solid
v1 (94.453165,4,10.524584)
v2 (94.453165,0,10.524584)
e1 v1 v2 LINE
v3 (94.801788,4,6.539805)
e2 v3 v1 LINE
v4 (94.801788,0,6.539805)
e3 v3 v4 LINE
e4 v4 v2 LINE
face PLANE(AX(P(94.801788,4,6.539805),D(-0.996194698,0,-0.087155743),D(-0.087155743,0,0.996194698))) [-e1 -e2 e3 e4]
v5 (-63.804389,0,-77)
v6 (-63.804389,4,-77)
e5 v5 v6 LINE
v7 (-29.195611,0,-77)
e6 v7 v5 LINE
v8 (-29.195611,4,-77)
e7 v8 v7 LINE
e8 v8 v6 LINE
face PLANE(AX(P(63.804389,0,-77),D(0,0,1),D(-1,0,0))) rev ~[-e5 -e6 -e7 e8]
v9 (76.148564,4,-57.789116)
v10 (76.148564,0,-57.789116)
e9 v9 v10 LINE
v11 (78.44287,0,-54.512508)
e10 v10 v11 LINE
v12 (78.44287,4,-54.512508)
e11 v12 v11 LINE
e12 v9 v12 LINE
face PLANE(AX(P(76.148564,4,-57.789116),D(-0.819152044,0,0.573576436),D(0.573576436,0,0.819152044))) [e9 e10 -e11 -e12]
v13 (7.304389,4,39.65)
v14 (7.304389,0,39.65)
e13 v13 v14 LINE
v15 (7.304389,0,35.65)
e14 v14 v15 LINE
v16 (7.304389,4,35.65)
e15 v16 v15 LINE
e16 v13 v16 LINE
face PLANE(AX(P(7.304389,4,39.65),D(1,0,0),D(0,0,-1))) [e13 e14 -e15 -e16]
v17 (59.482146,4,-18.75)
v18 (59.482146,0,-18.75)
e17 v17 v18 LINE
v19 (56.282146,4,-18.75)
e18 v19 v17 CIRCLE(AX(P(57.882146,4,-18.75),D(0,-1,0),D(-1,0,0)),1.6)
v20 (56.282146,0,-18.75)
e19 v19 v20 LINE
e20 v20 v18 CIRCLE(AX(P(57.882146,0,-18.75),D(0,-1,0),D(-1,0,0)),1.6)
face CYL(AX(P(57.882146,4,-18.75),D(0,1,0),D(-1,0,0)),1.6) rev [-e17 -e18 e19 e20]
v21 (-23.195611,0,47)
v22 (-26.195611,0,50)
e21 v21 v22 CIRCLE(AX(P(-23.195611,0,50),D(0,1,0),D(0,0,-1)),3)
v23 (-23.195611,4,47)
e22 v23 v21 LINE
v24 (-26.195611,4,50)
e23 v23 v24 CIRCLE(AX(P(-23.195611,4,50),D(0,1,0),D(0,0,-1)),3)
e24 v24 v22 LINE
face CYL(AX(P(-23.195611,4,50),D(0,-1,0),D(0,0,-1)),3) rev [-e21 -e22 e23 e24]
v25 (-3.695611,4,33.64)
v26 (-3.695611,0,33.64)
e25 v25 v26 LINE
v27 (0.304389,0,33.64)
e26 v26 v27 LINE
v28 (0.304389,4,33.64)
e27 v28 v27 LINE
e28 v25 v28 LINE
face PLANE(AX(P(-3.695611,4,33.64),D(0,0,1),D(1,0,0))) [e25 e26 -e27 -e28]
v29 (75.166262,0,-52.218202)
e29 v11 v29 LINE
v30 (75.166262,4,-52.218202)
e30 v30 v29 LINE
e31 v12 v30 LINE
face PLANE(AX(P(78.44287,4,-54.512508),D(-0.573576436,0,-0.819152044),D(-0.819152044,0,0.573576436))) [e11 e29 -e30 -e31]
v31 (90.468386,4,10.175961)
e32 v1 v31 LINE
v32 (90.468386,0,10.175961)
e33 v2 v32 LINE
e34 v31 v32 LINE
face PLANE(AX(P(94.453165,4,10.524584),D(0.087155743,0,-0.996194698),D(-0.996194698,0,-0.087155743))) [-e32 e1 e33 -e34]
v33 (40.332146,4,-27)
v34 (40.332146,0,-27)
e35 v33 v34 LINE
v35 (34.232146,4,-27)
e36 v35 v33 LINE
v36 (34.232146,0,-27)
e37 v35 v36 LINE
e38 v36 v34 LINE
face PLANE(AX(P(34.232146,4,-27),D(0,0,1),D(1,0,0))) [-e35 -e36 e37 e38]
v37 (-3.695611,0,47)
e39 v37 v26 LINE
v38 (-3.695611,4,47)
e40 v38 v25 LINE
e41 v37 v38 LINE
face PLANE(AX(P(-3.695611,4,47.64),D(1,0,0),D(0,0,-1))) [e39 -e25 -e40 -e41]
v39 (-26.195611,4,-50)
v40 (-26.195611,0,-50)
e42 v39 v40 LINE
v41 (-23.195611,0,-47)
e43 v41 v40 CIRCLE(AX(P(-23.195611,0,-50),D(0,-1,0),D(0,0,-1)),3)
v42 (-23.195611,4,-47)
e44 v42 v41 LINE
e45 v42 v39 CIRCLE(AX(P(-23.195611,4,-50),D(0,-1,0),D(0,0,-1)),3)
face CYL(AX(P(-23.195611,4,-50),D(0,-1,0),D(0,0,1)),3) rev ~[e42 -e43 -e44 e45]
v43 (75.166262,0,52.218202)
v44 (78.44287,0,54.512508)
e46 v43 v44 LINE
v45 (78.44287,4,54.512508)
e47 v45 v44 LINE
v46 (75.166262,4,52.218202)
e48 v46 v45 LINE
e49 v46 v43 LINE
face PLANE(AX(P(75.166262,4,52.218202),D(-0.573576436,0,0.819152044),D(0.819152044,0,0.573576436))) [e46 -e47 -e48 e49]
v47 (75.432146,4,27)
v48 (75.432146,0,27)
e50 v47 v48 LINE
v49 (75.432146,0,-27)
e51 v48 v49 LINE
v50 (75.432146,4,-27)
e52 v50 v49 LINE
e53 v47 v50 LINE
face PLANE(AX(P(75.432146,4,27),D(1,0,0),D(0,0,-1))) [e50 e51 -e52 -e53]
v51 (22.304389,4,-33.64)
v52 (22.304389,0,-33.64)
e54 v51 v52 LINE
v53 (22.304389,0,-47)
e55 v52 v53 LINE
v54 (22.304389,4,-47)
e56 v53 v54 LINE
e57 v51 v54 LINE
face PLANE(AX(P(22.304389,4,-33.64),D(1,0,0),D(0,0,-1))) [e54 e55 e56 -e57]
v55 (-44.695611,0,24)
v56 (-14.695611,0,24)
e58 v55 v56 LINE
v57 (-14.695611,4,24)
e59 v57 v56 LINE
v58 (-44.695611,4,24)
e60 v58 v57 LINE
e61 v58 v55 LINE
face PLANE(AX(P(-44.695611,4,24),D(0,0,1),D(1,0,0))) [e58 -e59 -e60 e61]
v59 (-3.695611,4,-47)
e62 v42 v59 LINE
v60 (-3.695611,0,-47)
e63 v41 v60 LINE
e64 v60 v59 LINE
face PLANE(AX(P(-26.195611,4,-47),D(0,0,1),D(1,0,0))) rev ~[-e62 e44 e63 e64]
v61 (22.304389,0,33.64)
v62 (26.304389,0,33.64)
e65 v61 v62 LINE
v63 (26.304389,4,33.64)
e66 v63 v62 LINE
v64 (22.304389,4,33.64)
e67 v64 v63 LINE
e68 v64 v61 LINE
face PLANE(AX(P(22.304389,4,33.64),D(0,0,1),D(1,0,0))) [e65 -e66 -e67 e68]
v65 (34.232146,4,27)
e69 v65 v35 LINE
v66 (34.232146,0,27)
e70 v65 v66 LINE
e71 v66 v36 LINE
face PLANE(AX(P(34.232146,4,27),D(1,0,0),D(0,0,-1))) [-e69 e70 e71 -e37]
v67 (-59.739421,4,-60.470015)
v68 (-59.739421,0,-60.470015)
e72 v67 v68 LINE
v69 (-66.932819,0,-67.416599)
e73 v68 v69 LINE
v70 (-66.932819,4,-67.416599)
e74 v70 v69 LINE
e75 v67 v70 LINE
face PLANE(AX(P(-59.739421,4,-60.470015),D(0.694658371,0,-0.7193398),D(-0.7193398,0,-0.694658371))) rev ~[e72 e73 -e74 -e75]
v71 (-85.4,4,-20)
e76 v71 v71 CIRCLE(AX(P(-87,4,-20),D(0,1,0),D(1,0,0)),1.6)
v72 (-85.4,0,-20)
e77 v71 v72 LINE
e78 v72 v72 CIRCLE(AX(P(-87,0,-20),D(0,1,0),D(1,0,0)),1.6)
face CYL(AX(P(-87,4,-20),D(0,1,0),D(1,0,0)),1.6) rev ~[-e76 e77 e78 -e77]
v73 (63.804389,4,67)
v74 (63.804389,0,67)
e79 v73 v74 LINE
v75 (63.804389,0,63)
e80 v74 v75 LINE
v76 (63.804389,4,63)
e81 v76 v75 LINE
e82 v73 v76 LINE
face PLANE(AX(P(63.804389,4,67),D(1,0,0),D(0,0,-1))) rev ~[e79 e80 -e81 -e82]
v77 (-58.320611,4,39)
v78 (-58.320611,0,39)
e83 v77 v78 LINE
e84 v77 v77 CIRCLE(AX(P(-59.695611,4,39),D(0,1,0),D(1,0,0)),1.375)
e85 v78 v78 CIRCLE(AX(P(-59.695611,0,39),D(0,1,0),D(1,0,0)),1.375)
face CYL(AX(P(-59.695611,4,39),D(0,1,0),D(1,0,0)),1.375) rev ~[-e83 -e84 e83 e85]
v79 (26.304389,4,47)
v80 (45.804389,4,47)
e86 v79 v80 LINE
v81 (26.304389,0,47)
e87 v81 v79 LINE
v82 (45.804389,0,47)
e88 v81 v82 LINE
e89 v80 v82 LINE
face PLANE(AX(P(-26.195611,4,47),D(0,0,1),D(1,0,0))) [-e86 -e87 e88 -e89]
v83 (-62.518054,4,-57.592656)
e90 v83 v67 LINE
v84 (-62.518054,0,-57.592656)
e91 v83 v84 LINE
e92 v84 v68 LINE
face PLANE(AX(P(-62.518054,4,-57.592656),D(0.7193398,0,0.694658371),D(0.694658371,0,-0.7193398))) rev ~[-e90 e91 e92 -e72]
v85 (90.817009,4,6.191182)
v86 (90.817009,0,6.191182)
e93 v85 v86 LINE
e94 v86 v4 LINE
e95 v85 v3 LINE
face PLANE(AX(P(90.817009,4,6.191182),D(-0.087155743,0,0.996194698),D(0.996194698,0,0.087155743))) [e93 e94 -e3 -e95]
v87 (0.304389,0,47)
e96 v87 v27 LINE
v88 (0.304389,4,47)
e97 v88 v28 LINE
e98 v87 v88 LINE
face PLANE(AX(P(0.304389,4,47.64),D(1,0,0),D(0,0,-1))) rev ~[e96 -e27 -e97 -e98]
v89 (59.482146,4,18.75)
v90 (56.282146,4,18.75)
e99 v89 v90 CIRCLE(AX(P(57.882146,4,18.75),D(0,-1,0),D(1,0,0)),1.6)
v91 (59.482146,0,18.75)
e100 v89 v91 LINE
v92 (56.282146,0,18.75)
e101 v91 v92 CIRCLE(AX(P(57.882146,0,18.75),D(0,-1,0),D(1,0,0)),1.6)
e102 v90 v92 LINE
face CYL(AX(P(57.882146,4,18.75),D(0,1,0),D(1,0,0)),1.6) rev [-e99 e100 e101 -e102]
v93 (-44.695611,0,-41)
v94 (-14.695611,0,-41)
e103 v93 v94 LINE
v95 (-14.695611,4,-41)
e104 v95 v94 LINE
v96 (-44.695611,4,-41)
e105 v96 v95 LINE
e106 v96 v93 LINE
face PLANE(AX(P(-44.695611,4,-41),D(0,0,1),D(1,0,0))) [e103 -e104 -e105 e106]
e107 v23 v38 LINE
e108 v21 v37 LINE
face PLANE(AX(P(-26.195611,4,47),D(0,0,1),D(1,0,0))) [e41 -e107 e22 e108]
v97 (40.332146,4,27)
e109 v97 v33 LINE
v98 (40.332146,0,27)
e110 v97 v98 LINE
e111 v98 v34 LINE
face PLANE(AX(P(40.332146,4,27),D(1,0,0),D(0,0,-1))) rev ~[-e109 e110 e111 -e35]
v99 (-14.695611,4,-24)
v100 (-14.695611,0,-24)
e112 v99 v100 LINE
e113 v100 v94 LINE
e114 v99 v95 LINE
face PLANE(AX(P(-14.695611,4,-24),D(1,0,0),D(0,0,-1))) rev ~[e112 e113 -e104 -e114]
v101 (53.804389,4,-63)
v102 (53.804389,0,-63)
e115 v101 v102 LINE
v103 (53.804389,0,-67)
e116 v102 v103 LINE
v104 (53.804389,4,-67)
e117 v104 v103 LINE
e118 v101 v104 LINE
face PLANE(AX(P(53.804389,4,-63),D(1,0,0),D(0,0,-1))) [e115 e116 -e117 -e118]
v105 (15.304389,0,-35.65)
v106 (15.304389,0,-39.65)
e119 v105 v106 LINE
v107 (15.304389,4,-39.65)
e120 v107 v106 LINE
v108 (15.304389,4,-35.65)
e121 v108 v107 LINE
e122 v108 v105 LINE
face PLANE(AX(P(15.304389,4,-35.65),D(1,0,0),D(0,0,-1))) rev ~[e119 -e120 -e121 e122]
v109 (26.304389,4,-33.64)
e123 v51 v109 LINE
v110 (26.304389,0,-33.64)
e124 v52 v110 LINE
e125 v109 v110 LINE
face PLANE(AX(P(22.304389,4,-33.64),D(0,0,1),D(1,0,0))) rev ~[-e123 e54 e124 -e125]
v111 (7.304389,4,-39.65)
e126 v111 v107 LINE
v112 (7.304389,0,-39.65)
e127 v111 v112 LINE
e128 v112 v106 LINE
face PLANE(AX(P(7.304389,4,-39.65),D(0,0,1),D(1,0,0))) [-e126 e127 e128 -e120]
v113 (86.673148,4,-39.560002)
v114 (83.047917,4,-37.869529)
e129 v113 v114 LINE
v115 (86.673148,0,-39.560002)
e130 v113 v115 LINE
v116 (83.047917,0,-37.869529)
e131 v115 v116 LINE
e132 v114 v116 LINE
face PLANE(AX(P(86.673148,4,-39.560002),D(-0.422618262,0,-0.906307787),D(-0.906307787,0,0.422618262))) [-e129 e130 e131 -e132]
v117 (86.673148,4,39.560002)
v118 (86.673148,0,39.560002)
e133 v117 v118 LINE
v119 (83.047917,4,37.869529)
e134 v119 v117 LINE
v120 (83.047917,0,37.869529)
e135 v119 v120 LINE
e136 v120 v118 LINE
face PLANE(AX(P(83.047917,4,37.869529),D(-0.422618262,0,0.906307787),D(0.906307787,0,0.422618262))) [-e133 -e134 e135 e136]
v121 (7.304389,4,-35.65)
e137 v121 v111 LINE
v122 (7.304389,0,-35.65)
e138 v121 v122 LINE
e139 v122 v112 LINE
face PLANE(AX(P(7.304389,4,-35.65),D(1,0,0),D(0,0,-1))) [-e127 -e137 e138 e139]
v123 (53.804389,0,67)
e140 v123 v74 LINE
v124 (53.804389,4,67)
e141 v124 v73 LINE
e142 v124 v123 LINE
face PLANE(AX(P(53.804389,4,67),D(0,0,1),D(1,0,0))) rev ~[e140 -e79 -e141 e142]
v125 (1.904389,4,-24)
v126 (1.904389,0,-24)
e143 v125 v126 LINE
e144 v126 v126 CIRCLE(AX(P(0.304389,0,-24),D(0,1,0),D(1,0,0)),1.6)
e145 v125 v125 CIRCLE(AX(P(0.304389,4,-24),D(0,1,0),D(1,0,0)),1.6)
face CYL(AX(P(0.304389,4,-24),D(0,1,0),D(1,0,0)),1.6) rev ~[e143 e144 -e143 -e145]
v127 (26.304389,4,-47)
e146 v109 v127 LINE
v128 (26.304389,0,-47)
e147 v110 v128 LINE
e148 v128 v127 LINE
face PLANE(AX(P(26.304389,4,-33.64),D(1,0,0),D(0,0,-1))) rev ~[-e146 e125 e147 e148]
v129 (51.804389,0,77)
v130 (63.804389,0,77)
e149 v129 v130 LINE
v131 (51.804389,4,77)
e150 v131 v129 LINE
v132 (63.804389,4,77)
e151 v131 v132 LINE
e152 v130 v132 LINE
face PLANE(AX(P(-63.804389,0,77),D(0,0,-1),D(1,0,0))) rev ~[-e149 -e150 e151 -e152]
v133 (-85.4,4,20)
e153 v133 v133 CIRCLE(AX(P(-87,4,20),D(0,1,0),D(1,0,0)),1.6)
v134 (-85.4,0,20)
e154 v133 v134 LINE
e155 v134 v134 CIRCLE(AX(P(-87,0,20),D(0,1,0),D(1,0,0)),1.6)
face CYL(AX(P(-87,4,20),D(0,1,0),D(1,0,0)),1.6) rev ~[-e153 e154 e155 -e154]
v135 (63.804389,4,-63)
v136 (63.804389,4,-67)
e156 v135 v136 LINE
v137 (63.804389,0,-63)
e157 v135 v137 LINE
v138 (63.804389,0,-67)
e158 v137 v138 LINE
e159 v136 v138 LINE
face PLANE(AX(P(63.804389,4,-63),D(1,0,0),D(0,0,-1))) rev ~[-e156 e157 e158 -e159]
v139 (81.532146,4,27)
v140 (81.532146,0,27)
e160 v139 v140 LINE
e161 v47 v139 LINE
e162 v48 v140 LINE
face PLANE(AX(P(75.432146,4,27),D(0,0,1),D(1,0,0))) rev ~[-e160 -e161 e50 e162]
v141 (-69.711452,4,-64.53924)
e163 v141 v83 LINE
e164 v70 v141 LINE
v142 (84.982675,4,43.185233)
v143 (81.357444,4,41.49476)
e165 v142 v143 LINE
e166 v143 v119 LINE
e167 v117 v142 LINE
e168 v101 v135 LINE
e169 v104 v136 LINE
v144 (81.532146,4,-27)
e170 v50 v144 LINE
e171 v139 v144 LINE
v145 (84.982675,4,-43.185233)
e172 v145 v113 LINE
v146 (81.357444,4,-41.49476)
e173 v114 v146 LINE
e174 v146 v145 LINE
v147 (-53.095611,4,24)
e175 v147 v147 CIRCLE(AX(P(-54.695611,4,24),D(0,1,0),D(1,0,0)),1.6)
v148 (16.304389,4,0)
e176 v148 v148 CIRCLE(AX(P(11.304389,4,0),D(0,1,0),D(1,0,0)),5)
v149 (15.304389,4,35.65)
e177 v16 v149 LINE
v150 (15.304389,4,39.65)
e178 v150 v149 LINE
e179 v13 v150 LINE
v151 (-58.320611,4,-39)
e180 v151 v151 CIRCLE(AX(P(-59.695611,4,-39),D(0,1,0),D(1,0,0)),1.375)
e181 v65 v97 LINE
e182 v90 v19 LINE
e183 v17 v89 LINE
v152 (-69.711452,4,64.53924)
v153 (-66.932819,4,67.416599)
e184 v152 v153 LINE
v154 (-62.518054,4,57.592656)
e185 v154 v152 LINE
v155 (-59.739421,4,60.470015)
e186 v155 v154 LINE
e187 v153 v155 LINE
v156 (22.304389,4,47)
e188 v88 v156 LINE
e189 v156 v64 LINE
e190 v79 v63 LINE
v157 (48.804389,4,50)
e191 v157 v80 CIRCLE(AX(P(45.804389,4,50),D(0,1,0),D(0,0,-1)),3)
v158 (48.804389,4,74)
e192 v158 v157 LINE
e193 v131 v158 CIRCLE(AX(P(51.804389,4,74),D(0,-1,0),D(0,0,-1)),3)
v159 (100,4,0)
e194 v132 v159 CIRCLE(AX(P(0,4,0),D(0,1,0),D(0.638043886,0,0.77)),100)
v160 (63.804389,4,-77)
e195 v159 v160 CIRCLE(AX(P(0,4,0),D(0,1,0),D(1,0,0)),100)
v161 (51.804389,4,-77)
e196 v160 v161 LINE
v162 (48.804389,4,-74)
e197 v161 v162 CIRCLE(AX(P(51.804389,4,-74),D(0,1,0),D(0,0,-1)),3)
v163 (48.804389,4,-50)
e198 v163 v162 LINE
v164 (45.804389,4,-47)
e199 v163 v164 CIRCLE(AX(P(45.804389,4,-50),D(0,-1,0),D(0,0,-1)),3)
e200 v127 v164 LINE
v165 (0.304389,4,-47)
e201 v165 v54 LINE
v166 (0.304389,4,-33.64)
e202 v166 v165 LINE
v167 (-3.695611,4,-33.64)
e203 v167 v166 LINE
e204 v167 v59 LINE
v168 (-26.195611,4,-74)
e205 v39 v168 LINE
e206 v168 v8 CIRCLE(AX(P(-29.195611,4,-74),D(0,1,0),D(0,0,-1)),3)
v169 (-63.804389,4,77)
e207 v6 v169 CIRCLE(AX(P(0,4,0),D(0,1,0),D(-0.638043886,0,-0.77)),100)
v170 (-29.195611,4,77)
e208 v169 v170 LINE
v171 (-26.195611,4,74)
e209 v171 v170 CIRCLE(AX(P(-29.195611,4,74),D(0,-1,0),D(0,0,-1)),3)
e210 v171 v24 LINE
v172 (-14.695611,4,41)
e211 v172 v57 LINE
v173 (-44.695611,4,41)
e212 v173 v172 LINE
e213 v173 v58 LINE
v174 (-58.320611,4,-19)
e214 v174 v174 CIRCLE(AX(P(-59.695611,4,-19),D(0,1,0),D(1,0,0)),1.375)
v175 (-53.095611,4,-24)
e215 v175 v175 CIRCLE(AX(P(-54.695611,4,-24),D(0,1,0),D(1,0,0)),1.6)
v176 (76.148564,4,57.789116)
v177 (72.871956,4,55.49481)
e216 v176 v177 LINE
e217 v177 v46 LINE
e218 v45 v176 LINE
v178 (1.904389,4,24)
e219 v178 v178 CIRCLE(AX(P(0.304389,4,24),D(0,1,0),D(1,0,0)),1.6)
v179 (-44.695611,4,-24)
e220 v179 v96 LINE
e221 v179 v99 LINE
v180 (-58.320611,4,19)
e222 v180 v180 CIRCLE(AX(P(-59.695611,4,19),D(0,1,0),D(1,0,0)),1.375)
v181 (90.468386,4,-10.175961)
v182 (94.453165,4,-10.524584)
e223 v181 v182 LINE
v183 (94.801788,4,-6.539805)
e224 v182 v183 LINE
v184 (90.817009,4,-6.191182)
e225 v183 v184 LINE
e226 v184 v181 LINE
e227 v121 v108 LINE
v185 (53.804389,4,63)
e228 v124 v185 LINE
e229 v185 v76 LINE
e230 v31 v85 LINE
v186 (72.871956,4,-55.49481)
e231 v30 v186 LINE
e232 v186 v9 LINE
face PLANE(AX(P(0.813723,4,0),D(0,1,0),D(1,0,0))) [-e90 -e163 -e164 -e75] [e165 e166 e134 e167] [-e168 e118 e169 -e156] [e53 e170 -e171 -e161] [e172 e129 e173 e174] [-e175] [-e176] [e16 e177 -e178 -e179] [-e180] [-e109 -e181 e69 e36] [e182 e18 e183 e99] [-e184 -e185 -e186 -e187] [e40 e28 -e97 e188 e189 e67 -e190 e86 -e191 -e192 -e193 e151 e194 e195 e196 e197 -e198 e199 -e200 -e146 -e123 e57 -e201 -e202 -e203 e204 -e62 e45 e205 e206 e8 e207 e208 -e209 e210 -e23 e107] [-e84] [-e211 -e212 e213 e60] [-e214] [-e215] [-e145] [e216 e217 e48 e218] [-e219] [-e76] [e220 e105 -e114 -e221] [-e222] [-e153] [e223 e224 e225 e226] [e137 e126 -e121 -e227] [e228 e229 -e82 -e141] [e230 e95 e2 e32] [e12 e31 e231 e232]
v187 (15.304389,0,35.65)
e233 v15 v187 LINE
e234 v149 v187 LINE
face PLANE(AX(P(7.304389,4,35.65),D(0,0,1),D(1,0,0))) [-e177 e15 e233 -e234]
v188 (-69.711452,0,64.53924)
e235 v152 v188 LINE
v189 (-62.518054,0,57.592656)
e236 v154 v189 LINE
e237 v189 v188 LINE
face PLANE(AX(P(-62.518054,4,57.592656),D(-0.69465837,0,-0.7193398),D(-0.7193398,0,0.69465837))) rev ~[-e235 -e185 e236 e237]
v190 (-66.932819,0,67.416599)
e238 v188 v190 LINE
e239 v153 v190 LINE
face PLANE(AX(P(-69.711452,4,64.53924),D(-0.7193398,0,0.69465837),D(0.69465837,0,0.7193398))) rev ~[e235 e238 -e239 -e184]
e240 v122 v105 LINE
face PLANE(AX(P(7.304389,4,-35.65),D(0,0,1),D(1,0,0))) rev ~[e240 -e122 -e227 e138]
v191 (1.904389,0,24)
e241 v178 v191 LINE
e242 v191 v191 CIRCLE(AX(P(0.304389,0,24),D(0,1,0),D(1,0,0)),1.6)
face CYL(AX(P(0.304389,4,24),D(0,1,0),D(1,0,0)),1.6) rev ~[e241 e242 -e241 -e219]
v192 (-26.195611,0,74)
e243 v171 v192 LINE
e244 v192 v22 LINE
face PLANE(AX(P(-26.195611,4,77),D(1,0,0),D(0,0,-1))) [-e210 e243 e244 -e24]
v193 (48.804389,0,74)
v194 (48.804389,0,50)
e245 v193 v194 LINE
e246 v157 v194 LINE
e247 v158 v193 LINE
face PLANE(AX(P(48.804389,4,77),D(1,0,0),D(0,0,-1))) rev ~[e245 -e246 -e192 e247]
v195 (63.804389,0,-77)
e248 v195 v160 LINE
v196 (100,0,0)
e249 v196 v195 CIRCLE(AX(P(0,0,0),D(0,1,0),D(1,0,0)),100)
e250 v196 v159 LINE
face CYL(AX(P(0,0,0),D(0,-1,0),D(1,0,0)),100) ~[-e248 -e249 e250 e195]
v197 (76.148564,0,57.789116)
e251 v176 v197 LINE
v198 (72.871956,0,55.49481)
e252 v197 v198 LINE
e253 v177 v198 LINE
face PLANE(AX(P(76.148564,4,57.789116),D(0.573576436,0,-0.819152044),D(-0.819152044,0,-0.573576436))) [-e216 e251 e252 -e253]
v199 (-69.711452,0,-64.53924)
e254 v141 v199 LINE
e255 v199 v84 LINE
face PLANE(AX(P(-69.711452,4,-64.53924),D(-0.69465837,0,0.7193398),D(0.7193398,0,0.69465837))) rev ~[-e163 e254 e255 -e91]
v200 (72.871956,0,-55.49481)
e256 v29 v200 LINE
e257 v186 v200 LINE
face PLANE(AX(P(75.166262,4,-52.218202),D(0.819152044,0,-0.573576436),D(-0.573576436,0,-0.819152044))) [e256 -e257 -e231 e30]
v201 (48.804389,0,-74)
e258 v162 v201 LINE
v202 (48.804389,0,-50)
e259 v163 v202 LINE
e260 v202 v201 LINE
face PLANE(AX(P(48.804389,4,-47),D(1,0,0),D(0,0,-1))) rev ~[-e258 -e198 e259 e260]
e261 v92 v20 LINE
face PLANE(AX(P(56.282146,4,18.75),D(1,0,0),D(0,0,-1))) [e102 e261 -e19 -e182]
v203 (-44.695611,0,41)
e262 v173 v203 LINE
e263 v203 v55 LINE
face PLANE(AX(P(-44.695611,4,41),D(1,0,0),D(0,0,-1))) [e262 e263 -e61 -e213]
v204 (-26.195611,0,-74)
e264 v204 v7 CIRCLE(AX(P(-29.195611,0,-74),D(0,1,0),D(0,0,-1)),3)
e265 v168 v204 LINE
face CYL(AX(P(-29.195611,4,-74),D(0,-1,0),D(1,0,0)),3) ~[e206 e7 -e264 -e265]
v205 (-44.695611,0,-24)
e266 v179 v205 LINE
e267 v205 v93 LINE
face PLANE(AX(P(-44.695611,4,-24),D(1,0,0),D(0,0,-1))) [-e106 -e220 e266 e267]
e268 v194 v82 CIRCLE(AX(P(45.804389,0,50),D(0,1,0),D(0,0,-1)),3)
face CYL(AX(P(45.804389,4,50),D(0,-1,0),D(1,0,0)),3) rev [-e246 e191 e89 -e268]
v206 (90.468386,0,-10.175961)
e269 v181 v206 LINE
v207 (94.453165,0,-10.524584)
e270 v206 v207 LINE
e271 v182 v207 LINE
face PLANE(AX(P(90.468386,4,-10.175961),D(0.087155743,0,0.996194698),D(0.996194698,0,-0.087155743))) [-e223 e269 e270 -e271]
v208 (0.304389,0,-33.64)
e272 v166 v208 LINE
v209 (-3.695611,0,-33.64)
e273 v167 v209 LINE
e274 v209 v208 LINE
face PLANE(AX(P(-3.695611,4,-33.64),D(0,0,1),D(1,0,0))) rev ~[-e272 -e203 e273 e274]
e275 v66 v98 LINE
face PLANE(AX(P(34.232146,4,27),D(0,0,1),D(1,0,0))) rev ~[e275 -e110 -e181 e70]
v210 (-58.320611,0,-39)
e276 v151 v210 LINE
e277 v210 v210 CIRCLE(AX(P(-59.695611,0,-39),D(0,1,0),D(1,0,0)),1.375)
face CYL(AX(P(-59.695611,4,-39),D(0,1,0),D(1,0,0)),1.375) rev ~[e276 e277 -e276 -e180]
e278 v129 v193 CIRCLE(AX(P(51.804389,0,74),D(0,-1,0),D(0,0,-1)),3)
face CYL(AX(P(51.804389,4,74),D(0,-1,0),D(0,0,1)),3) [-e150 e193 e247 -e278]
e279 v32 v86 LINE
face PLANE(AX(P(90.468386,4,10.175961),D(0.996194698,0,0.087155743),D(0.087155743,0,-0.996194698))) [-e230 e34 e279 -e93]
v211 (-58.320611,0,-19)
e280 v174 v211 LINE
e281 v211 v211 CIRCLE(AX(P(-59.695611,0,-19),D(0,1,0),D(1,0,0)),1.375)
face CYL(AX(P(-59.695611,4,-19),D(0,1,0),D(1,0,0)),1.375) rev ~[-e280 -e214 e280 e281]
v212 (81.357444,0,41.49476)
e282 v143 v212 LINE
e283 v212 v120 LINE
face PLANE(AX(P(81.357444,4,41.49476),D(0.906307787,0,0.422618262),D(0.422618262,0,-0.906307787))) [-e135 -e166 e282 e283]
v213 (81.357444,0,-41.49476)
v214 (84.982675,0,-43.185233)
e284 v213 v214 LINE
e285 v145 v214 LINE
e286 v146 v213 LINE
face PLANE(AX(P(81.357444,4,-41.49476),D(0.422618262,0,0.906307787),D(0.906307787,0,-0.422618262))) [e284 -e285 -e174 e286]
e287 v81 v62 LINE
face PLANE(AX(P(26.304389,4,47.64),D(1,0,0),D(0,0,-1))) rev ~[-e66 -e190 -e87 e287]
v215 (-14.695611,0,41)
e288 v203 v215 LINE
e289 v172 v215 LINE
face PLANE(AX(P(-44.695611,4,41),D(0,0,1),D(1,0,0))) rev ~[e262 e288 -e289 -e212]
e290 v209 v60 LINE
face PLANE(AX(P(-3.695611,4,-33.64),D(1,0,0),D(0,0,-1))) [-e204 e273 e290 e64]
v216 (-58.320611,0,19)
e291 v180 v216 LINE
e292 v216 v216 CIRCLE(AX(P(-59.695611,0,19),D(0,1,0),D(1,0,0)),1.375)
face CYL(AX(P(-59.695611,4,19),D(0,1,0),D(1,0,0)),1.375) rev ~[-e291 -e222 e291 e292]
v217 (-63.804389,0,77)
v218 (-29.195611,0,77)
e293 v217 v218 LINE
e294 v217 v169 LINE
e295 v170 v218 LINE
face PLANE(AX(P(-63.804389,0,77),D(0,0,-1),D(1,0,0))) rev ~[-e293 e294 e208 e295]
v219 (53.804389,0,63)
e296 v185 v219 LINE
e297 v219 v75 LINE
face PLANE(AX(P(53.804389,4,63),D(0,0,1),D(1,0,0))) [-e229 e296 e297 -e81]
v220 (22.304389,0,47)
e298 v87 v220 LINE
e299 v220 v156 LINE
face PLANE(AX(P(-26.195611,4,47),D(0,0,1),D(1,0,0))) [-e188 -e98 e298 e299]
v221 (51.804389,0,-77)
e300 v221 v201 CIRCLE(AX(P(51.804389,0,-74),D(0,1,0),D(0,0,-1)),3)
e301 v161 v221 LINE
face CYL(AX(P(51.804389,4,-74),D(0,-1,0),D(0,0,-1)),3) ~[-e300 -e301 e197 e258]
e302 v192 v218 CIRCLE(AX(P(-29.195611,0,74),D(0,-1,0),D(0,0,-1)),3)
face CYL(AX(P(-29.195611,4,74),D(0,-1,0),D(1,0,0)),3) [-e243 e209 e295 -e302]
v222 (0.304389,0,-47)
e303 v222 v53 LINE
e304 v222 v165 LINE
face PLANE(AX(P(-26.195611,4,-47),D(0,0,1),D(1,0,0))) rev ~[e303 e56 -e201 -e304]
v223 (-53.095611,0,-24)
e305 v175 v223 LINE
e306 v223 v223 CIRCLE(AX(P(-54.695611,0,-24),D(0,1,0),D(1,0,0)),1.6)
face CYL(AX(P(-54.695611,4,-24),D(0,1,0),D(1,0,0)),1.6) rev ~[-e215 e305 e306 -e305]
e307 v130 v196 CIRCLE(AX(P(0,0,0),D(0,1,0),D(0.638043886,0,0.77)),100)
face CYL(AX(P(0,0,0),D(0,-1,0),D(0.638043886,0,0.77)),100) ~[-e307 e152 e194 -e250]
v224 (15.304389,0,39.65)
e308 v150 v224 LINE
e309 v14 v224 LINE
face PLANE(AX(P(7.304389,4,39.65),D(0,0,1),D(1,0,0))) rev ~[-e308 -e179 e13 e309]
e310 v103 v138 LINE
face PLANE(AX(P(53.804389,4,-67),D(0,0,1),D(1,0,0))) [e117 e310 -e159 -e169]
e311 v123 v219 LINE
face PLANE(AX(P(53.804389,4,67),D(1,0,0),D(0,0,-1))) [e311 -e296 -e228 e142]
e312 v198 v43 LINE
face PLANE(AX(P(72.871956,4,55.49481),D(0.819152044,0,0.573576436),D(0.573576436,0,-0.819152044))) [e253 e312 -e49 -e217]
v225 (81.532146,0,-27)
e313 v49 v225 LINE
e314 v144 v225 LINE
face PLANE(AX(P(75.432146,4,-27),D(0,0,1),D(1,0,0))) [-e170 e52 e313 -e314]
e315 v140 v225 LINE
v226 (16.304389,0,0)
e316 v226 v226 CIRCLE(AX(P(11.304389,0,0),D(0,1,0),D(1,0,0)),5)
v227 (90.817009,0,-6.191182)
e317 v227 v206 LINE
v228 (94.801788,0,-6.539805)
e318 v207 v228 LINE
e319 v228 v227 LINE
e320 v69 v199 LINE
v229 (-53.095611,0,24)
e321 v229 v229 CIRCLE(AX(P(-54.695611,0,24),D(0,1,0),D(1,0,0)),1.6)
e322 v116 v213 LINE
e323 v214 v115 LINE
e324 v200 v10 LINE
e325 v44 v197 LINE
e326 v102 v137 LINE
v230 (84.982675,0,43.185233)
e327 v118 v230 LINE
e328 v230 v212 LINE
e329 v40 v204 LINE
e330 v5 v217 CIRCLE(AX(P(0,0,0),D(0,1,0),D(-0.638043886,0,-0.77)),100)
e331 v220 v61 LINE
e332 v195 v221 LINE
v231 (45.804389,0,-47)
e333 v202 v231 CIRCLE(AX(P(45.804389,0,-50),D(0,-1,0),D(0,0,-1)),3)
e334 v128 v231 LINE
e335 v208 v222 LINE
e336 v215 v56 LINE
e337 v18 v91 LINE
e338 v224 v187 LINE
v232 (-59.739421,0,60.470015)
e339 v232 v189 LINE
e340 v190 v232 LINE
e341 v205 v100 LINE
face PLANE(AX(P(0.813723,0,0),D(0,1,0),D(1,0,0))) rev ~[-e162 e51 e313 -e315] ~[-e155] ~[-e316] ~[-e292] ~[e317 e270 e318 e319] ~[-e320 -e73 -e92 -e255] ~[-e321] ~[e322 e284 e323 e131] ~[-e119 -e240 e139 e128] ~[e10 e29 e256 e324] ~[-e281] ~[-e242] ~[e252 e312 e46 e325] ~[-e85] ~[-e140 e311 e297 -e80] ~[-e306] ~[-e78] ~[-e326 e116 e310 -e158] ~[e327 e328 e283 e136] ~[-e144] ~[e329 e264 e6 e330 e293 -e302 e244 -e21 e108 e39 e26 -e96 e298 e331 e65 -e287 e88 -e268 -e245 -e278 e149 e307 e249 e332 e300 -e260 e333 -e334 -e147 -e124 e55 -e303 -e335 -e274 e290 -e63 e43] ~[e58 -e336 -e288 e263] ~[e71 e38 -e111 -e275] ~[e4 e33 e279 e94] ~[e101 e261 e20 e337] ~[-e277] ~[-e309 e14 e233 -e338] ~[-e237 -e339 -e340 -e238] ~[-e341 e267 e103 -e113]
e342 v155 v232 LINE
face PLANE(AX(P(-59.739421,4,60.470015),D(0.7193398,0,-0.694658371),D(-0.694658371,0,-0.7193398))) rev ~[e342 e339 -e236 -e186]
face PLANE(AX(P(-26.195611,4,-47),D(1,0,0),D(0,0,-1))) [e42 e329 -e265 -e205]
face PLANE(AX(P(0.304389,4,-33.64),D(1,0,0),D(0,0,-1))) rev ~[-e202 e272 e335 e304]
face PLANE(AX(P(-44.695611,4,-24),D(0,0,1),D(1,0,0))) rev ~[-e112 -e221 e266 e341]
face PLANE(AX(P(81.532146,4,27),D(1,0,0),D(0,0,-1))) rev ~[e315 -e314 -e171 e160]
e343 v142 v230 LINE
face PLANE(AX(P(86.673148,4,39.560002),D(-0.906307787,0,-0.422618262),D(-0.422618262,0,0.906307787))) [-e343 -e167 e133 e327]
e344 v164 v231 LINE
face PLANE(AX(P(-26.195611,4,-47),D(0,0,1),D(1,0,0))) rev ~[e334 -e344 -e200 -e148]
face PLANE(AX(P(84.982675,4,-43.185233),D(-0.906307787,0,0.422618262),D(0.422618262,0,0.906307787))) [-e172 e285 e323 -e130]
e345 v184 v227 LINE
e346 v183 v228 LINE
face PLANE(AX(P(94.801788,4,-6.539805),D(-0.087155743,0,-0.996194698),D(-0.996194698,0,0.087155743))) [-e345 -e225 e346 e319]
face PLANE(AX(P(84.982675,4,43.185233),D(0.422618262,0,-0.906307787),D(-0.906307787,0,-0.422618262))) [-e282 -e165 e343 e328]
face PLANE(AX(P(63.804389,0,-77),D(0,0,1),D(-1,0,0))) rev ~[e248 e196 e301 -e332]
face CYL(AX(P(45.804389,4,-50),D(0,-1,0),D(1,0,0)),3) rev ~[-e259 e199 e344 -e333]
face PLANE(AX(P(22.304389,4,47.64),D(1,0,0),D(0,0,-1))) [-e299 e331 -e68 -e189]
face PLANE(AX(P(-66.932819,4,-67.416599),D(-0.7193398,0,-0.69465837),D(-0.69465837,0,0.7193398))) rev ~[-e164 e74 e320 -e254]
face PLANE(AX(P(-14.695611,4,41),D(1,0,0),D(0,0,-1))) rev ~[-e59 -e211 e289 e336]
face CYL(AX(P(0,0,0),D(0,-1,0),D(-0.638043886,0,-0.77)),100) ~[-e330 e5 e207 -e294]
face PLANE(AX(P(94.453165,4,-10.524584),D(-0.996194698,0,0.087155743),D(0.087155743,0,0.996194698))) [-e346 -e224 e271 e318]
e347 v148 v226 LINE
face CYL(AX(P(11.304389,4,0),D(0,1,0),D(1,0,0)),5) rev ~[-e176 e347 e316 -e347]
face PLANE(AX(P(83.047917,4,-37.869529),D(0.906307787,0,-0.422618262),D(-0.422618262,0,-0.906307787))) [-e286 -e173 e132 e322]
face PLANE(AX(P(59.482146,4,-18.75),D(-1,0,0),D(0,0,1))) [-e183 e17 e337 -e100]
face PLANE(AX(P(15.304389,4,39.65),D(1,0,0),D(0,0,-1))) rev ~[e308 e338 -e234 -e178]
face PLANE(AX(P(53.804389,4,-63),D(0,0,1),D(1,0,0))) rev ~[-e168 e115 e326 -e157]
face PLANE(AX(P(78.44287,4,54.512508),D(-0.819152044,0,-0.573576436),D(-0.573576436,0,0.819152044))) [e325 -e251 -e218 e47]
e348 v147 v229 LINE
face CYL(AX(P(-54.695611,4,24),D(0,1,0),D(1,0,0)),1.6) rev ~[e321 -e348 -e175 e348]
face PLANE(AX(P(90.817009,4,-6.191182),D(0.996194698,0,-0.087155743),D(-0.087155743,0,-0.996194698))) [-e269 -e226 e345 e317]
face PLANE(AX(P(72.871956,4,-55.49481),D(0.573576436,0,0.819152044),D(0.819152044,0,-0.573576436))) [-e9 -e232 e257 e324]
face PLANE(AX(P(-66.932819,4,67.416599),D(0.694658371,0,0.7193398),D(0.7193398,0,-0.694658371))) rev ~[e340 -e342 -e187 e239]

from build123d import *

# Parameters (mm, degrees)
BASIS_DEPTH        = 4
MODU_BRACKET_DEPTH = 4
SKETCH3_R          = 5
SKETCH3_W          = 75
SKETCH3_H          = 30
SKETCH3_W_2        = 8
SKETCH3_H_2        = 4
CUT_EXTRUDE2_DEPTH = 5
SKETCH4_W          = 6.1
SKETCH4_H          = 54
CUT_EXTRUDE3_DEPTH = 4
SKETCH5_W          = 4
SKETCH5_H          = 14
CUT_EXTRUDE4_DEPTH = 4
SKETCH6_W          = 10
SKETCH6_H          = 4
CUT_EXTRUDE5_DEPTH = 4
SKETCH9_R          = 1.6
SKETCH9_R_2        = 1.375
CUT_EXTRUDE7_DEPTH = 4
SKETCH10_W         = 30
SKETCH10_H         = 17
CUT_EXTRUDE8_DEPTH = 4
SKETCH11_R         = 1.6
CUT_EXTRUDE9_DEPTH = 4
FILLET1_R          = 3


with BuildPart() as part:
    # Sketch1 → Basis (new body)
    with BuildSketch(Plane(origin=(0, 0, 0), x_dir=(1, 0, 0), z_dir=(0, 1, 0))):
        with BuildLine():
            Line((63.804388564, 77), (-63.804388564, 77))
            ThreePointArc((-63.804388564, 77), (-100, 0), (-63.804388564, -77))
            Line((-63.804388564, -77), (63.804388564, -77))
            ThreePointArc((63.804388564, -77), (90.499831095, -42.541515862), (100, 0))
            ThreePointArc((100, 0), (90.499831095, 42.541515862), (63.804388564, 77))
        make_face()
    extrude(amount=BASIS_DEPTH)

    # Sketch2 → Modu bracket (cut)
    with BuildSketch(Plane(origin=(0, 4, 0), x_dir=(1, 0, 0), z_dir=(0, 1, 0))):
        Polygon((90.817009036, -6.191182133), (94.801787829, -6.539805104), (94.453164858, -10.524583897), (90.468386065, -10.175960926), align=None)
        Polygon((83.047916894, -37.86952889), (86.673148042, -39.560001937), (84.982674995, -43.185233085), (81.357443847, -41.494760038), align=None)
        Polygon((75.166261713, -52.218202052), (78.442869891, -54.512507797), (76.148564145, -57.789115975), (72.871955968, -55.494810229), align=None)
        Polygon((90.468386065, 10.175960926), (94.453164858, 10.524583897), (94.801787829, 6.539805104), (90.817009036, 6.191182133), align=None)
        Polygon((81.357443847, 41.494760038), (84.982674995, 43.185233085), (86.673148042, 39.560001937), (83.047916894, 37.86952889), align=None)
        Polygon((72.871955968, 55.494810229), (76.148564145, 57.789115975), (78.44286989, 54.512507797), (75.166261713, 52.218202052), align=None)
    extrude(amount=-MODU_BRACKET_DEPTH, mode=Mode.SUBTRACT)

    # Sketch3 → Cut-Extrude2 (cut, through all)
    with BuildSketch(Plane(origin=(0, 4, 0), x_dir=(1, 0, 0), z_dir=(0, 1, 0))):
        with Locations((11.304388564, 0)):
            Circle(SKETCH3_R)
        with Locations((11.304388564, -62)):
            Rectangle(SKETCH3_W, SKETCH3_H)
        with Locations((11.304388564, 62)):
            Rectangle(SKETCH3_W, SKETCH3_H)
        with Locations((11.304388564, -37.65)):
            Rectangle(SKETCH3_W_2, SKETCH3_H_2)
        with Locations((11.304388564, 37.65)):
            Rectangle(SKETCH3_W_2, SKETCH3_H_2)
    extrude(amount=-CUT_EXTRUDE2_DEPTH, mode=Mode.SUBTRACT)

    # Sketch4 → Cut-Extrude3 (cut)
    with BuildSketch(Plane(origin=(0, 4, 0), x_dir=(1, 0, 0), z_dir=(0, 1, 0))):
        with BuildLine():
            Line((56.282145861, -18.75), (56.282145861, 18.75))
            ThreePointArc((56.282145861, 18.75), (57.882145861, 20.35), (59.482145861, 18.75))
            Line((59.482145861, 18.75), (59.482145861, -18.75))
            ThreePointArc((59.482145861, -18.75), (57.882145861, -20.35), (56.282145861, -18.75))
        make_face()
        with Locations((78.482145861, 0)):
            Rectangle(SKETCH4_W, SKETCH4_H)
        with Locations((37.282145861, 0)):
            Rectangle(SKETCH4_W, SKETCH4_H)
    extrude(amount=-CUT_EXTRUDE3_DEPTH, mode=Mode.SUBTRACT)

    # Sketch5 → Cut-Extrude4 (cut)
    with BuildSketch(Plane(origin=(0, 4, 0), x_dir=(1, 0, 0), z_dir=(0, 1, 0))):
        with Locations((-1.695611436, -40.64)):
            Rectangle(SKETCH5_W, SKETCH5_H)
        with Locations((-1.695611436, 40.64)):
            Rectangle(SKETCH5_W, SKETCH5_H)
        with Locations((24.304388564, 40.64)):
            Rectangle(SKETCH5_W, SKETCH5_H)
        with Locations((24.304388564, -40.64)):
            Rectangle(SKETCH5_W, SKETCH5_H)
    extrude(amount=-CUT_EXTRUDE4_DEPTH, mode=Mode.SUBTRACT)

    # Sketch6 → Cut-Extrude5 (cut)
    with BuildSketch(Plane(origin=(0, 4, 0), x_dir=(1, 0, 0), z_dir=(0, 1, 0))):
        Polygon((-62.518054096, 57.592655881), (-59.739420614, 60.470015082), (-66.932818617, 67.416598787), (-69.711452099, 64.539239585), align=None)
        Polygon((-59.739420614, -60.470015082), (-62.518054096, -57.592655881), (-69.711452099, -64.539239585), (-66.932818617, -67.416598787), align=None)
        with Locations((58.804388564, -65)):
            Rectangle(SKETCH6_W, SKETCH6_H)
        with Locations((58.804388564, 65)):
            Rectangle(SKETCH6_W, SKETCH6_H)
    extrude(amount=-CUT_EXTRUDE5_DEPTH, mode=Mode.SUBTRACT)

    # Sketch9 → Cut-Extrude7 (cut)
    with BuildSketch(Plane(origin=(0, 4, 0), x_dir=(1, 0, 0), z_dir=(0, 1, 0))):
        with Locations((-54.695611436, -24)):
            Circle(SKETCH9_R)
        with Locations((-54.695611436, 24)):
            Circle(SKETCH9_R)
        with Locations((0.304388564, 24)):
            Circle(SKETCH9_R)
        with Locations((0.304388564, -24)):
            Circle(SKETCH9_R)
        with Locations((-59.695611436, 39)):
            Circle(SKETCH9_R_2)
        with Locations((-59.695611436, -19)):
            Circle(SKETCH9_R_2)
        with Locations((-59.695611436, 19)):
            Circle(SKETCH9_R_2)
        with Locations((-59.695611436, -39)):
            Circle(SKETCH9_R_2)
    extrude(amount=-CUT_EXTRUDE7_DEPTH, mode=Mode.SUBTRACT)

    # Sketch10 → Cut-Extrude8 (cut)
    with BuildSketch(Plane(origin=(0, 4, 0), x_dir=(1, 0, 0), z_dir=(0, 1, 0))):
        with Locations((-29.695611436, 32.5)):
            Rectangle(SKETCH10_W, SKETCH10_H)
        with Locations((-29.695611436, -32.5)):
            Rectangle(SKETCH10_W, SKETCH10_H)
    extrude(amount=-CUT_EXTRUDE8_DEPTH, mode=Mode.SUBTRACT)

    # Sketch11 → Cut-Extrude9 (cut)
    with BuildSketch(Plane(origin=(0, 4, 0), x_dir=(1, 0, 0), z_dir=(0, 1, 0))):
        with Locations((-87, -20)):
            Circle(SKETCH11_R)
        with Locations((-87, 20)):
            Circle(SKETCH11_R)
    extrude(amount=-CUT_EXTRUDE9_DEPTH, mode=Mode.SUBTRACT)

    # Fillet1
    fillet1_edges = [part.edges().sort_by_distance(p)[0] for p in [
        (48.804388564, 2, 77),
        (-26.195611436, 2, 77),
        (-26.195611436, 2, 47),
        (48.804388564, 2, 47),
        (48.804388564, 2, -77),
        (48.804388564, 2, -47),
        (-26.195611436, 2, -47),
        (-26.195611436, 2, -77),
    ]]
    fillet(fillet1_edges, radius=FILLET1_R)


solid = part.part
